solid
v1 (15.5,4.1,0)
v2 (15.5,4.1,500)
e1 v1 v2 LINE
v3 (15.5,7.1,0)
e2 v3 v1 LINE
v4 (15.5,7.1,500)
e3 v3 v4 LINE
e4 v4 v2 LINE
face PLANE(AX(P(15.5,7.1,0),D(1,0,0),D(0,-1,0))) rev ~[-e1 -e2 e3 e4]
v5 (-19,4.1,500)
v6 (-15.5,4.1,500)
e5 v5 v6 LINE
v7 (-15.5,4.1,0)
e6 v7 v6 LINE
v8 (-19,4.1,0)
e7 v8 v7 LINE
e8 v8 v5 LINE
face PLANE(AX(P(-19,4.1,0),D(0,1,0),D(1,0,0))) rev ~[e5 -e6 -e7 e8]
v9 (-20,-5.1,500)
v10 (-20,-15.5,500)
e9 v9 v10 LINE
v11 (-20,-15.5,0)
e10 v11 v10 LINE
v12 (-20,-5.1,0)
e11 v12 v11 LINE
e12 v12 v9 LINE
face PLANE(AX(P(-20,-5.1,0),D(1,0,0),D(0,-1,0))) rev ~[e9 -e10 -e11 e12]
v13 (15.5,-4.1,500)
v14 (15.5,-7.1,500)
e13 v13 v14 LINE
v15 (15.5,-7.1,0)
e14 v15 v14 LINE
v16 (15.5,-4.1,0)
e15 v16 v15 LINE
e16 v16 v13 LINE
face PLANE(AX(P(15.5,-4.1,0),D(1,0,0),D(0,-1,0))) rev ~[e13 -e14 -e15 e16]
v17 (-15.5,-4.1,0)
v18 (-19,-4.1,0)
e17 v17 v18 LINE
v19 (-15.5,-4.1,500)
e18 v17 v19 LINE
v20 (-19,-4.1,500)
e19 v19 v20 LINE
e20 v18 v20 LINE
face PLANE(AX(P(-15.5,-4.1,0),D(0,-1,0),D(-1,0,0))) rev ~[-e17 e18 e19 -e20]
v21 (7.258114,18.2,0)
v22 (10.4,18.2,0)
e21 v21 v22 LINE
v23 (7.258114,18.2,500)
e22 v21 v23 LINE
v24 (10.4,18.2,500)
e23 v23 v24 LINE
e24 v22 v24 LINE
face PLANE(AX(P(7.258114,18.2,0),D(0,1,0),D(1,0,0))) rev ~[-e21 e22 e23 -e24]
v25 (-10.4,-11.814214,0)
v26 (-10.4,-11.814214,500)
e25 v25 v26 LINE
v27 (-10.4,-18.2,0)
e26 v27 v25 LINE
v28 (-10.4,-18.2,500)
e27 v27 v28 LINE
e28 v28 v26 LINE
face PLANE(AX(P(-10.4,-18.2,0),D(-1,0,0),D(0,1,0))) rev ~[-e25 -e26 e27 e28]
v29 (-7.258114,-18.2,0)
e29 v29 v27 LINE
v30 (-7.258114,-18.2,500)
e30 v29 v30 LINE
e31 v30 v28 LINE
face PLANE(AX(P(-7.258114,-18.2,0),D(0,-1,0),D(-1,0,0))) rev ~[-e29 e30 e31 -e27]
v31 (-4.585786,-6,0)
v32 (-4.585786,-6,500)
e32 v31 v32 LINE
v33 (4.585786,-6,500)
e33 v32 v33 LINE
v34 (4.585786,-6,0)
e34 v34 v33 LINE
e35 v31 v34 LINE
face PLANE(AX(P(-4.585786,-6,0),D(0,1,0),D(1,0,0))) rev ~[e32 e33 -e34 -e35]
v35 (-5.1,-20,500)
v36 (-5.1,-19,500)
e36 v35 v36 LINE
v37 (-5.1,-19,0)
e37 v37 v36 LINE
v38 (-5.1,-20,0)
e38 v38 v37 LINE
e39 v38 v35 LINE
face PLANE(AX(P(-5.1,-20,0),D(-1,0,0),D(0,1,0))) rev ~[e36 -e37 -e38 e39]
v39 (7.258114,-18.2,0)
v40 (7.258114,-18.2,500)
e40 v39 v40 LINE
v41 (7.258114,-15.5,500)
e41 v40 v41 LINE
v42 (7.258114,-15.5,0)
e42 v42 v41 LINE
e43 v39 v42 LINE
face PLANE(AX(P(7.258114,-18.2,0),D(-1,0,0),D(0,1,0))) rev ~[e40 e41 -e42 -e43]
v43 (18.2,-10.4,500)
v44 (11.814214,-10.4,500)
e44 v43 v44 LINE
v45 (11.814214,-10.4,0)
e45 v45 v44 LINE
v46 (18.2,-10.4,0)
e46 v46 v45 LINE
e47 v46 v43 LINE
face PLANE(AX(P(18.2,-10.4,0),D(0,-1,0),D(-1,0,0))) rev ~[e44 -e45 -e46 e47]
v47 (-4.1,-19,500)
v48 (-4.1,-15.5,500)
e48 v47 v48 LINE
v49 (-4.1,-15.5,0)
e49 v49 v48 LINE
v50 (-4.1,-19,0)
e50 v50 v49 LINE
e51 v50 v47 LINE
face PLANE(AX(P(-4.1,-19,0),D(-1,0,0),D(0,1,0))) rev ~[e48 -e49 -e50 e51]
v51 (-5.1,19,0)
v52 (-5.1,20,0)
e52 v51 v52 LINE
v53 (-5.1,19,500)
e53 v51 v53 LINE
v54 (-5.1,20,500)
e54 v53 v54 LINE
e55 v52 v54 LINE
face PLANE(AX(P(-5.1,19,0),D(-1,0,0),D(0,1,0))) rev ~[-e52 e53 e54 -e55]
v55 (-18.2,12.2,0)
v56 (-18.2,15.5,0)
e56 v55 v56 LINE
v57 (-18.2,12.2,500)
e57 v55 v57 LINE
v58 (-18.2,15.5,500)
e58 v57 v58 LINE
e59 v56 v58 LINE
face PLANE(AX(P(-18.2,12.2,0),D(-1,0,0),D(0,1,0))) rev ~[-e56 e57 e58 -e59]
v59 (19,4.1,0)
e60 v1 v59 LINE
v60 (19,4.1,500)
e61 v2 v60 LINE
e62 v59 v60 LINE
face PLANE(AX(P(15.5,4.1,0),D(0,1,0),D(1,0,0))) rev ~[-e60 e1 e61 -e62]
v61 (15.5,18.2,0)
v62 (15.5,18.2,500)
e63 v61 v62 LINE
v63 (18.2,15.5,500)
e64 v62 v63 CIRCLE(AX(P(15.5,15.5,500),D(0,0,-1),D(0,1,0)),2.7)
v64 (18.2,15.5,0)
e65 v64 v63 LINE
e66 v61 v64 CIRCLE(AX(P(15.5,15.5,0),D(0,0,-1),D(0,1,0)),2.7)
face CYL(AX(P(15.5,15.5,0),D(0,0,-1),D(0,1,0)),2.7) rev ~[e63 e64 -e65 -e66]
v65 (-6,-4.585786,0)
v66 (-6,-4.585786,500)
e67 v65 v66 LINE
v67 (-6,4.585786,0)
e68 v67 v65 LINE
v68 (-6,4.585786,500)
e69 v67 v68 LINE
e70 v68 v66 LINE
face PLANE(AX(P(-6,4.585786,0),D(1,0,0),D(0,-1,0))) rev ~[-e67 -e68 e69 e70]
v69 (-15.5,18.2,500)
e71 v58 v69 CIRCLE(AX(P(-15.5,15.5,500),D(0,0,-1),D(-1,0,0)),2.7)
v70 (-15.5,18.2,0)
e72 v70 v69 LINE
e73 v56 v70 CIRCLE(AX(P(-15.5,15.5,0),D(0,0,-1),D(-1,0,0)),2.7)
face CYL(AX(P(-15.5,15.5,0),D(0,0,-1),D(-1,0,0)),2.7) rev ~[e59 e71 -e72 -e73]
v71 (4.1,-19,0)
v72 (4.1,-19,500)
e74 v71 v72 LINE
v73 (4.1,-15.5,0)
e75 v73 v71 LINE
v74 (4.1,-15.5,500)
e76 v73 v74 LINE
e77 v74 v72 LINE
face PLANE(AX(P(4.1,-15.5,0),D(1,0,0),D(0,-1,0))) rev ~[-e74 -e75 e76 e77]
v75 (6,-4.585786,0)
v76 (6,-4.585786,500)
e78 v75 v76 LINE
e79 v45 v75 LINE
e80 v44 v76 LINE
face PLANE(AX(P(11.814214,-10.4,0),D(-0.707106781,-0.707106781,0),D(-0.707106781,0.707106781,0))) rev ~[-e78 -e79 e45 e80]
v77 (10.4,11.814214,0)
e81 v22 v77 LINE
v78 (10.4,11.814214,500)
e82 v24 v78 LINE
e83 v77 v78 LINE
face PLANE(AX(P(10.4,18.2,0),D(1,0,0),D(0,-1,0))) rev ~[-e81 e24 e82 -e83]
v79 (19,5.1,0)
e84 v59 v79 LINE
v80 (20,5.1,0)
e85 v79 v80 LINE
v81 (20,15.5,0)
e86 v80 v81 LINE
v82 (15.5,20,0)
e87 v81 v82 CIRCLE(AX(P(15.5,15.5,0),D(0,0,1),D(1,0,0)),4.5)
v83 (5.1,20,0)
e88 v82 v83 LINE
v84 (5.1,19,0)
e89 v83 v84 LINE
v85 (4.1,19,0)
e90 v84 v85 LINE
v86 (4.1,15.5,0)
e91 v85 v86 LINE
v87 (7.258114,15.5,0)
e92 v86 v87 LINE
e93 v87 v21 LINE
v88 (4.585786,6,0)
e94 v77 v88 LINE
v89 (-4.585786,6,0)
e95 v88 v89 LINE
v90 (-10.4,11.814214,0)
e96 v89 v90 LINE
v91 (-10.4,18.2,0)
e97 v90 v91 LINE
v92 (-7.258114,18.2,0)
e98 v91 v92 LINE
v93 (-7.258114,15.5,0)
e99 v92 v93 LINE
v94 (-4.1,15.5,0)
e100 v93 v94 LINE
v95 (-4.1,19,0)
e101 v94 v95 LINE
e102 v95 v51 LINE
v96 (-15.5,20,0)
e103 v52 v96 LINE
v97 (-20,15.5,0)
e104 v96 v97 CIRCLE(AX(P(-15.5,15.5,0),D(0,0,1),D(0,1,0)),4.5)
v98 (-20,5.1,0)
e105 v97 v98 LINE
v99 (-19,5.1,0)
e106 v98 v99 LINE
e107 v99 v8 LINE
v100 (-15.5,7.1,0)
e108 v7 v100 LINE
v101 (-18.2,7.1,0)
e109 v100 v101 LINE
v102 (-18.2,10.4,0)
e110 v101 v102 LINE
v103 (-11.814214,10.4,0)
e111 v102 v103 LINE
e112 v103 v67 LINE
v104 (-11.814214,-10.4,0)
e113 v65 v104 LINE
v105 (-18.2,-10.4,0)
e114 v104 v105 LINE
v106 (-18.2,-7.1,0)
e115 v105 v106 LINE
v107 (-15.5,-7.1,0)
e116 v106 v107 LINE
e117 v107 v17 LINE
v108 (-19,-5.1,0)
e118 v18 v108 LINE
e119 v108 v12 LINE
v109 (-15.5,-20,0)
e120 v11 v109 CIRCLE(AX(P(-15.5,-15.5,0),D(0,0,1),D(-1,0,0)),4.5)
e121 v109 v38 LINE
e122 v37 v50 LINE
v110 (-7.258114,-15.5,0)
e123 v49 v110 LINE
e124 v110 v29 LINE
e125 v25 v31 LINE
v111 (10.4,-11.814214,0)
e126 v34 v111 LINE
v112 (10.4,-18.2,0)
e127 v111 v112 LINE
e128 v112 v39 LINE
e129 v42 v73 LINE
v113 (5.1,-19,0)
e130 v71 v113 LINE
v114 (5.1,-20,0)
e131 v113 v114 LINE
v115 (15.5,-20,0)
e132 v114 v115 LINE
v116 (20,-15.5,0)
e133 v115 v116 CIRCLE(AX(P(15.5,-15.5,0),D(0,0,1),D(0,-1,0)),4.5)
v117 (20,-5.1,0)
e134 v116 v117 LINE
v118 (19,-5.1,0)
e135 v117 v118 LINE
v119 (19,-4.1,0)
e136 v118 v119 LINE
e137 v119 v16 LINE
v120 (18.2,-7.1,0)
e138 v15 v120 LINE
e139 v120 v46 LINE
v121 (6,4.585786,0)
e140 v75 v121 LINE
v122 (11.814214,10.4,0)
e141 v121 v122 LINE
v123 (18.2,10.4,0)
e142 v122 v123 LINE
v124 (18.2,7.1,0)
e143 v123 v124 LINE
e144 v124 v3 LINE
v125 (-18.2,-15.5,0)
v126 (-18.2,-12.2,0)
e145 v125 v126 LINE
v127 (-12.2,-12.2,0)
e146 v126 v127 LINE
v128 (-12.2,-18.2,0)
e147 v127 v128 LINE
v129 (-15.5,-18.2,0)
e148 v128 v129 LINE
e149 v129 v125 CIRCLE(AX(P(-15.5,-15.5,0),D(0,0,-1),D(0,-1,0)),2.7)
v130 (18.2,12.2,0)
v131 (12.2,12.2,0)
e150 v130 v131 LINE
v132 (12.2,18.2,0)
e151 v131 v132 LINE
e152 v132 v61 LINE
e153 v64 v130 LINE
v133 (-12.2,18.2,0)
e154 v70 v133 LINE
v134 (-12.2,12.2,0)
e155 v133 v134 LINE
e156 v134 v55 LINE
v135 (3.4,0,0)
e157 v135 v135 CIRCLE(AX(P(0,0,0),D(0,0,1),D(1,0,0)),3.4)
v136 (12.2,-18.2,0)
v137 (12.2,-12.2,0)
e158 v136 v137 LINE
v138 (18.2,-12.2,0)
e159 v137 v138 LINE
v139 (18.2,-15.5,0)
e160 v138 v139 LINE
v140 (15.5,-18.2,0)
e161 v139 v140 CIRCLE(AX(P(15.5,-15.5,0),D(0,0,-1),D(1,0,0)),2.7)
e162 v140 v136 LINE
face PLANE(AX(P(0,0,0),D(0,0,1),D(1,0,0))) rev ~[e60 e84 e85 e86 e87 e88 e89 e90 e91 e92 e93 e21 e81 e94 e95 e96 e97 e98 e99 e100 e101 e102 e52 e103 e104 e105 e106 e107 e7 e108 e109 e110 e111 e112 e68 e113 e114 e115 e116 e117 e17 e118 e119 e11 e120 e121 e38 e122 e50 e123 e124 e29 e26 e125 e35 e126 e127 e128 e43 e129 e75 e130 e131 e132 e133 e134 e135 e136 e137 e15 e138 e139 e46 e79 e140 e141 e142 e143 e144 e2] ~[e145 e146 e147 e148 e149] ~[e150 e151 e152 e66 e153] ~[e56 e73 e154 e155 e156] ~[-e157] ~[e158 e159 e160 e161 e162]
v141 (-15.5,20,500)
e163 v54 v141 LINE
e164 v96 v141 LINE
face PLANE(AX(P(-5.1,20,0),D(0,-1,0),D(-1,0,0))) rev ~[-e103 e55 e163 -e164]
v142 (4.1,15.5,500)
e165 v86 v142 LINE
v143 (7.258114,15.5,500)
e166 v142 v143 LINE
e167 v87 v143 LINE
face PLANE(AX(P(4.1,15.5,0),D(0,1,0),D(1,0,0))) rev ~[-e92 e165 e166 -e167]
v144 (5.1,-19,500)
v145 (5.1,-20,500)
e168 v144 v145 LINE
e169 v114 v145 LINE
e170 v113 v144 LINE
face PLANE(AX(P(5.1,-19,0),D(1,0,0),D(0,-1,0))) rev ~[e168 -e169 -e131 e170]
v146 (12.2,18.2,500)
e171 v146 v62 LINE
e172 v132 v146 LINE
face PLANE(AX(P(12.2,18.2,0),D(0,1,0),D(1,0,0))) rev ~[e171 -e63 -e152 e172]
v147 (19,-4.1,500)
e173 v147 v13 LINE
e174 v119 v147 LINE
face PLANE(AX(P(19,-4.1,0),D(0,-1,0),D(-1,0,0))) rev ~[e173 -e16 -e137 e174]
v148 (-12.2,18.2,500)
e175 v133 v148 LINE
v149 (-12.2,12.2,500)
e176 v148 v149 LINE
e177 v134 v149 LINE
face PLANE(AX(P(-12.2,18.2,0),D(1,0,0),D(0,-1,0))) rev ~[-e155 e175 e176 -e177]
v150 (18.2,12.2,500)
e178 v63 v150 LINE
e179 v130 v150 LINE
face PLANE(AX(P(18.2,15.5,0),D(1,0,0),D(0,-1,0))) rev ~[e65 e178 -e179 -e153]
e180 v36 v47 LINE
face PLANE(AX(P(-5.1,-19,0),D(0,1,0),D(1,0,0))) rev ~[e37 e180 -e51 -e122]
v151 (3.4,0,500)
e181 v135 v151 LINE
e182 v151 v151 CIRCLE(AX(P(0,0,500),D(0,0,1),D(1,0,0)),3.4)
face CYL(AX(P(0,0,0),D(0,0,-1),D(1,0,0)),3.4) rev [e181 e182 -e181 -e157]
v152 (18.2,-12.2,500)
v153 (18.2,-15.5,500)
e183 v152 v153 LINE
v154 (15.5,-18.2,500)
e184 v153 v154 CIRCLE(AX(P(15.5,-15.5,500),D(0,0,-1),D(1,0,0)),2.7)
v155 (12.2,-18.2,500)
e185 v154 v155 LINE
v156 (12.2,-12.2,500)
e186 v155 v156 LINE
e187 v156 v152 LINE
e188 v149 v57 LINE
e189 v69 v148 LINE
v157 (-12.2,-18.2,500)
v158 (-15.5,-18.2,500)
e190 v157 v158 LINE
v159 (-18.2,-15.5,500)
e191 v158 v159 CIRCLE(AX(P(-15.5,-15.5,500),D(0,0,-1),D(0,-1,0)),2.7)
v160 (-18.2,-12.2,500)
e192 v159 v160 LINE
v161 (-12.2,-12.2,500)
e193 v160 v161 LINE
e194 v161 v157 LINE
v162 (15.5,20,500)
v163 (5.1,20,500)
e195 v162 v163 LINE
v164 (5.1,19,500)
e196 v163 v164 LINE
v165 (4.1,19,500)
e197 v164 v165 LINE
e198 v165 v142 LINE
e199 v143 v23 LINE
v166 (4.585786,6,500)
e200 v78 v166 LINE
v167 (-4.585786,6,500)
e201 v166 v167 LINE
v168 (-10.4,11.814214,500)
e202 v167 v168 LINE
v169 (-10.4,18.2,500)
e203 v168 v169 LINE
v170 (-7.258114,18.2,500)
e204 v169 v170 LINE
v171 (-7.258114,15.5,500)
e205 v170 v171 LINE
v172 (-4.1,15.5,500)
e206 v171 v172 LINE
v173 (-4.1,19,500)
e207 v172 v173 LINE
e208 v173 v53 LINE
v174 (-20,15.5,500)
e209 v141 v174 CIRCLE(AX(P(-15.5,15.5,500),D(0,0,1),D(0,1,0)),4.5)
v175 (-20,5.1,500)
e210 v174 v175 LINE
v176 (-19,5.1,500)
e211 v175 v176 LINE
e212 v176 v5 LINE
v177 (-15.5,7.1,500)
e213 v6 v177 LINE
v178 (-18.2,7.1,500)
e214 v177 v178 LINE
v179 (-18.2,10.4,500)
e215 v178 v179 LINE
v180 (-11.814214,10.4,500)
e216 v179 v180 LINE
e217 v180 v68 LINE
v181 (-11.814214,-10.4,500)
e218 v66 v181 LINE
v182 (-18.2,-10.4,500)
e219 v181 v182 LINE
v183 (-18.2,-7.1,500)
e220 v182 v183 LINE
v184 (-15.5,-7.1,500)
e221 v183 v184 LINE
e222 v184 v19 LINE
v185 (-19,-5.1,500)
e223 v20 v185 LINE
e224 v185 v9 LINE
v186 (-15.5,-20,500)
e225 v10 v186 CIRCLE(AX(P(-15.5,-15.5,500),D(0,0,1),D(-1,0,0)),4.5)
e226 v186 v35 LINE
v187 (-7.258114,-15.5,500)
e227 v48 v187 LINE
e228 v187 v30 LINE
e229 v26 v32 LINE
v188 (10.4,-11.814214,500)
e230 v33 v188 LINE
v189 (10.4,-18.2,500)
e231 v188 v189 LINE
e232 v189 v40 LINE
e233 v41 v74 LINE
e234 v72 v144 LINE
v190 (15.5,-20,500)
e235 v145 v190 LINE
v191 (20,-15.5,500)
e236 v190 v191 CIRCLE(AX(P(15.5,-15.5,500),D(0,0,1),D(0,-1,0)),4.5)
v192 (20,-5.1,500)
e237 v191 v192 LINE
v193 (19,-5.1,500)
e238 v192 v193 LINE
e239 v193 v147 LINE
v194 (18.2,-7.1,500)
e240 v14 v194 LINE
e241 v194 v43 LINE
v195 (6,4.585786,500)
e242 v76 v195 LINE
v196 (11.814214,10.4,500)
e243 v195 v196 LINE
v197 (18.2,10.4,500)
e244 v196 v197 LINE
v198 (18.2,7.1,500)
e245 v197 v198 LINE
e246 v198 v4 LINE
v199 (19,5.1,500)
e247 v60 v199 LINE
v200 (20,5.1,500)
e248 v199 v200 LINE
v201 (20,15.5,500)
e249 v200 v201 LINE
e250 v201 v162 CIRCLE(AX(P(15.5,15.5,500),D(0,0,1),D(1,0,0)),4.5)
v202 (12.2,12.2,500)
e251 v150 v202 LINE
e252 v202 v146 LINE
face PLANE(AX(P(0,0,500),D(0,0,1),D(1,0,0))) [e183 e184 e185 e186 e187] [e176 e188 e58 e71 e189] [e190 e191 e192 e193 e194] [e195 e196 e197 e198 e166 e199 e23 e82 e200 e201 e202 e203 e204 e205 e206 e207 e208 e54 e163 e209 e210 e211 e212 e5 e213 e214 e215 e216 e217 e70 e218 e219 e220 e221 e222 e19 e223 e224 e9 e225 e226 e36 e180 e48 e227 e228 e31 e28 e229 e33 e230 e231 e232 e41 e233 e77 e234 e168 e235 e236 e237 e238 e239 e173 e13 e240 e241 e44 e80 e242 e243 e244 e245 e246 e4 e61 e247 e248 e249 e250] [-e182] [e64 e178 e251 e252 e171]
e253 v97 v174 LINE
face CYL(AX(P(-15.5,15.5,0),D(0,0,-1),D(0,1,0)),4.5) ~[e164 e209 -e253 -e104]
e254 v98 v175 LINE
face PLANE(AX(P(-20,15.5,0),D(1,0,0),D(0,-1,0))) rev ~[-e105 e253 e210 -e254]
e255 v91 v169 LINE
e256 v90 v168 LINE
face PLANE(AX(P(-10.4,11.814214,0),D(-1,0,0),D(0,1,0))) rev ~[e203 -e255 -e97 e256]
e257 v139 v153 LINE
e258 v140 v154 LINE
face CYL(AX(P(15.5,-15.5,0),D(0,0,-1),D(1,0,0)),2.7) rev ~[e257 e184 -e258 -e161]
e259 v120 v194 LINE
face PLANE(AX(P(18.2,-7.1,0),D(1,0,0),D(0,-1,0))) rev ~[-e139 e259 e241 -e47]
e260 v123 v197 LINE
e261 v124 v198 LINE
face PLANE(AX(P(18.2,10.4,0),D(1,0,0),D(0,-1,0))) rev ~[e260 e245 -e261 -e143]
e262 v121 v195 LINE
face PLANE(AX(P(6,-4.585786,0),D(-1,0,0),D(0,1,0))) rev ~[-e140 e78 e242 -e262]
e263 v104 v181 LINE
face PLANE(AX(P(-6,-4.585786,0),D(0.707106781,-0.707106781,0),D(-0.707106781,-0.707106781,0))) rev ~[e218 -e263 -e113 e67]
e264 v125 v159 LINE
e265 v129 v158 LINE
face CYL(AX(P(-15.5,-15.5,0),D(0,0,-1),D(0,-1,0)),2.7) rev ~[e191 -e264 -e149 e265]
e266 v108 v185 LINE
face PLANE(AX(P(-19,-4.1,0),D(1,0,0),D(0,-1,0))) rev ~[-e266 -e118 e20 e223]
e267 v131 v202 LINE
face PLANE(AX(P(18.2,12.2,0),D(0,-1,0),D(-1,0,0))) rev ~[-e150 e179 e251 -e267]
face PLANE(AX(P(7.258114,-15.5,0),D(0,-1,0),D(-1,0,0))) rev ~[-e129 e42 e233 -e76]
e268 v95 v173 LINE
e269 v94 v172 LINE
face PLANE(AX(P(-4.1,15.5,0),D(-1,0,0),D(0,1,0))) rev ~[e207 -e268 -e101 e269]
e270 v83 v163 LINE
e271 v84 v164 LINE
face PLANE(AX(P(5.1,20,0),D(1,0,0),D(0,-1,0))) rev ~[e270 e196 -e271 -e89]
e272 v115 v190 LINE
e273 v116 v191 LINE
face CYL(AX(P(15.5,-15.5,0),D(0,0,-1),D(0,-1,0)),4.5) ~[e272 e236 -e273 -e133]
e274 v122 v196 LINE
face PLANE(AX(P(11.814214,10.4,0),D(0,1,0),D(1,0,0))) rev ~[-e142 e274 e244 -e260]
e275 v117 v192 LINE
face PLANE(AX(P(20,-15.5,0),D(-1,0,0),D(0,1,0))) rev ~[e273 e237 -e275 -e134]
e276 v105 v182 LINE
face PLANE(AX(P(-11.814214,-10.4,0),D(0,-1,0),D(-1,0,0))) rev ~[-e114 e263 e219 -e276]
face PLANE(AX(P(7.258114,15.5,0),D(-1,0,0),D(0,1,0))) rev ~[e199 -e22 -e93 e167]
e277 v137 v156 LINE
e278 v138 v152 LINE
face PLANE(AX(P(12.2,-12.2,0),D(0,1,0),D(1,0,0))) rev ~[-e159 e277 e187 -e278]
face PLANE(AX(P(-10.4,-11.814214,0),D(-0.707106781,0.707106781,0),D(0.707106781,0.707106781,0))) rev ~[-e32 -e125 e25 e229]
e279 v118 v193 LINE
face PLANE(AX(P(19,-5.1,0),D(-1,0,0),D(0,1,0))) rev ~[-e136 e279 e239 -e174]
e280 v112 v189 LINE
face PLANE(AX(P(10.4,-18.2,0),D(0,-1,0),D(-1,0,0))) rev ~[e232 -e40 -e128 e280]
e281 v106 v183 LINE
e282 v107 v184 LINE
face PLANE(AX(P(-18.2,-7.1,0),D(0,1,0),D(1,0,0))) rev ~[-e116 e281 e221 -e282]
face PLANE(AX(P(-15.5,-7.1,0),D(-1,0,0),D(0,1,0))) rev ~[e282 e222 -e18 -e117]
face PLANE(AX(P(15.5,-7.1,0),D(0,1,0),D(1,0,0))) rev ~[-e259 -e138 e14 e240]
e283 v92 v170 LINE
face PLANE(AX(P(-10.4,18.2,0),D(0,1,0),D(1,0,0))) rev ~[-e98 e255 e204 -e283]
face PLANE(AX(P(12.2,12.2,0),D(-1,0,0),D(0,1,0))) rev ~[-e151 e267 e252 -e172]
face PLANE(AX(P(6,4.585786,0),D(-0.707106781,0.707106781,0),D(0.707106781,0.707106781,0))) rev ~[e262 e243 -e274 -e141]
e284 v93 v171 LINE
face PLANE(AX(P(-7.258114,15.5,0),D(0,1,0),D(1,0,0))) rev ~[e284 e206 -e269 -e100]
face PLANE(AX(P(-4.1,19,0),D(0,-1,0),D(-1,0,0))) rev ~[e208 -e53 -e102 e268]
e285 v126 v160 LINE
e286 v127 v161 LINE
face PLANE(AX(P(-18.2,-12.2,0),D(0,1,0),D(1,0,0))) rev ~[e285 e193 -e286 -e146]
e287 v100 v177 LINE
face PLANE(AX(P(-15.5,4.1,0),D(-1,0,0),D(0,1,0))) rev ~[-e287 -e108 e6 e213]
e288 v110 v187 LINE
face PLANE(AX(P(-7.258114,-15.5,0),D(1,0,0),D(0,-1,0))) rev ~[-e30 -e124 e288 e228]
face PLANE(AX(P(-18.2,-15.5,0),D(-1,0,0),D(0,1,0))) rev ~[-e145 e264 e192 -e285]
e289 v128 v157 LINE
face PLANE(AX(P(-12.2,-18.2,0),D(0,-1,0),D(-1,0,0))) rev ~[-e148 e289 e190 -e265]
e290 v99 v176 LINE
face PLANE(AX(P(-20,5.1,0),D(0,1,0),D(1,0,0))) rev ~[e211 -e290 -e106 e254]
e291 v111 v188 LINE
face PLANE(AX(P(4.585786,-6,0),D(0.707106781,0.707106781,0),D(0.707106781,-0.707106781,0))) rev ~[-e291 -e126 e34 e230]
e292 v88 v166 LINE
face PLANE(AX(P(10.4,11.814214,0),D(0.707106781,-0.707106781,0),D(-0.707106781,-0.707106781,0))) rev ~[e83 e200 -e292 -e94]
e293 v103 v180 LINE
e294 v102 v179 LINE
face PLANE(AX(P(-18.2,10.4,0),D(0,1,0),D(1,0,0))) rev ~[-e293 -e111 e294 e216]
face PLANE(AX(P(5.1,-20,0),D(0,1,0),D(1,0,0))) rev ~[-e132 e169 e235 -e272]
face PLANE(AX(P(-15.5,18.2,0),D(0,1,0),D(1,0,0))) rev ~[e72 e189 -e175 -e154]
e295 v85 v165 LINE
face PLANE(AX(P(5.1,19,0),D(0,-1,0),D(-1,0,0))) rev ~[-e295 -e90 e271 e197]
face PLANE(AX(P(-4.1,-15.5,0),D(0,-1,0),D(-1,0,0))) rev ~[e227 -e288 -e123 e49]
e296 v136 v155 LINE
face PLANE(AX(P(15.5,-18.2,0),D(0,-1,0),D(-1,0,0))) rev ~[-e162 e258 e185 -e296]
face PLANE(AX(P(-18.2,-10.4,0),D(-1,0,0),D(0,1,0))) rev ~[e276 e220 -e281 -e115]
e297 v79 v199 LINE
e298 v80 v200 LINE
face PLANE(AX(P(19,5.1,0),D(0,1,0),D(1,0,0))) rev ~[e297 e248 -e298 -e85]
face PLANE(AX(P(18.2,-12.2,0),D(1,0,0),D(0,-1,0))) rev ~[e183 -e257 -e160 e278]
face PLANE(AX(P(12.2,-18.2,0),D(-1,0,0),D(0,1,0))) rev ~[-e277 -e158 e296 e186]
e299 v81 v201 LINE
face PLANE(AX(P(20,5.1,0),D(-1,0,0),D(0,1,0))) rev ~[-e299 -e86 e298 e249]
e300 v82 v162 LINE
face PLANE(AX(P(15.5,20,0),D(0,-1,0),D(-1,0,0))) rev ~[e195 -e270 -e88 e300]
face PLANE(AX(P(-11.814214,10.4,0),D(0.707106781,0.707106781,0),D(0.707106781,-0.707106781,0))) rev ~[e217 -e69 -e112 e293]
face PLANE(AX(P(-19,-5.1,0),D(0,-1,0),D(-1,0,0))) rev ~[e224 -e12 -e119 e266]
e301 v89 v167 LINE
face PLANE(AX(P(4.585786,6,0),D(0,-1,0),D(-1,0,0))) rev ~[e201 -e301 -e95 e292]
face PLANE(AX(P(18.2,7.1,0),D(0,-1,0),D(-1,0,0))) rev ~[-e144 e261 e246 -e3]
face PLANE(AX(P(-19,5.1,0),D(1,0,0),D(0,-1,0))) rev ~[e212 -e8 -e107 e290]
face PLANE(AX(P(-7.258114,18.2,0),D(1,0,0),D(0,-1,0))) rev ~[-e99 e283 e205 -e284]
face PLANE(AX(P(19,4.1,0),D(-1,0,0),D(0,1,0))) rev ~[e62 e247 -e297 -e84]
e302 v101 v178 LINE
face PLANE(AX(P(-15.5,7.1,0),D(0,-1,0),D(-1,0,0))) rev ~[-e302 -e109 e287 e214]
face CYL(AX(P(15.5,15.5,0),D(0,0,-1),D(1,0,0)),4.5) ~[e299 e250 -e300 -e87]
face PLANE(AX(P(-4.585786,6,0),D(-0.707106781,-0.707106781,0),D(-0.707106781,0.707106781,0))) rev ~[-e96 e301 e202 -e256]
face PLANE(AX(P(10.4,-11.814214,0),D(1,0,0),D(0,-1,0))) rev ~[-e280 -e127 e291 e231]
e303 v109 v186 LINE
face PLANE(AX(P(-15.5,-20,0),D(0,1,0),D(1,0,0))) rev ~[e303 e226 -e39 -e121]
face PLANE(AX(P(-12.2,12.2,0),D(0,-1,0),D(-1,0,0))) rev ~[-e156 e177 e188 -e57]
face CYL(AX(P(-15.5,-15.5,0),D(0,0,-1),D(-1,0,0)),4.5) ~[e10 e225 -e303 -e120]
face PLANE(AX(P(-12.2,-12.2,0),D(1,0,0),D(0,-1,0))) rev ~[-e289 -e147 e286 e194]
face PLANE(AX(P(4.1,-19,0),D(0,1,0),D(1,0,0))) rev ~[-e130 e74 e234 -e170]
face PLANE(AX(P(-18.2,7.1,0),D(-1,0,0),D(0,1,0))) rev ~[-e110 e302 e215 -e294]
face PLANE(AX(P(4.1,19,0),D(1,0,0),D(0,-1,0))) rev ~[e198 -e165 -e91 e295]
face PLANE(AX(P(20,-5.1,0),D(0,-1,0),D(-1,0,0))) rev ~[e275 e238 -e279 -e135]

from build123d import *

# Parameters (mm, degrees)
SKETCH3_R           = 3.4
BOSS_EXTRUDE1_DEPTH = 500


with BuildPart() as part:
    # Sketch3 → Boss-Extrude1 (new body)
    with BuildSketch(Plane.XY):
        with BuildLine():
            Line((-11.814213562, 10.4), (-6, 4.585786438))
            Line((-6, 4.585786438), (-6, -4.585786438))
            Line((-6, -4.585786438), (-11.814213562, -10.4))
            Line((-11.814213562, -10.4), (-18.2, -10.4))
            Line((-18.2, -10.4), (-18.2, -7.1))
            Line((-18.2, -7.1), (-15.5, -7.1))
            Line((-15.5, -7.1), (-15.5, -4.1))
            Line((-15.5, -4.1), (-19, -4.1))
            Line((-19, -4.1), (-19, -5.1))
            Line((-19, -5.1), (-20, -5.1))
            Line((-20, -5.1), (-20, -15.5))
            ThreePointArc((-20, -15.5), (-18.681980515, -18.681980515), (-15.5, -20))
            Line((-15.5, -20), (-5.1, -20))
            Line((-5.1, -20), (-5.1, -19))
            Line((-5.1, -19), (-4.1, -19))
            Line((-4.1, -19), (-4.1, -15.5))
            Line((-4.1, -15.5), (-7.258114106, -15.5))
            Line((-7.258114106, -15.5), (-7.258114106, -18.2))
            Line((-7.258114106, -18.2), (-10.4, -18.2))
            Line((-10.4, -18.2), (-10.4, -11.814213562))
            Line((-10.4, -11.814213562), (-4.585786438, -6))
            Line((-4.585786438, -6), (4.585786438, -6))
            Line((4.585786438, -6), (10.4, -11.814213562))
            Line((10.4, -11.814213562), (10.4, -18.2))
            Line((10.4, -18.2), (7.258114106, -18.2))
            Line((7.258114106, -18.2), (7.258114106, -15.5))
            Line((7.258114106, -15.5), (4.1, -15.5))
            Line((4.1, -15.5), (4.1, -19))
            Line((4.1, -19), (5.1, -19))
            Line((5.1, -19), (5.1, -20))
            Line((5.1, -20), (15.5, -20))
            ThreePointArc((15.5, -20), (18.681980515, -18.681980515), (20, -15.5))
            Line((20, -15.5), (20, -5.1))
            Line((20, -5.1), (19, -5.1))
            Line((19, -5.1), (19, -4.1))
            Line((19, -4.1), (15.5, -4.1))
            Line((15.5, -4.1), (15.5, -7.1))
            Line((15.5, -7.1), (18.2, -7.1))
            Line((18.2, -7.1), (18.2, -10.4))
            Line((18.2, -10.4), (11.814213562, -10.4))
            Line((11.814213562, -10.4), (6, -4.585786438))
            Line((6, -4.585786438), (6, 4.585786438))
            Line((6, 4.585786438), (11.814213562, 10.4))
            Line((11.814213562, 10.4), (18.2, 10.4))
            Line((18.2, 10.4), (18.2, 7.1))
            Line((18.2, 7.1), (15.5, 7.1))
            Line((15.5, 7.1), (15.5, 4.1))
            Line((15.5, 4.1), (19, 4.1))
            Line((19, 4.1), (19, 5.1))
            Line((19, 5.1), (20, 5.1))
            Line((20, 5.1), (20, 15.5))
            ThreePointArc((20, 15.5), (18.681980515, 18.681980515), (15.5, 20))
            Line((15.5, 20), (5.1, 20))
            Line((5.1, 20), (5.1, 19))
            Line((5.1, 19), (4.1, 19))
            Line((4.1, 19), (4.1, 15.5))
            Line((4.1, 15.5), (7.258114106, 15.5))
            Line((7.258114106, 15.5), (7.258114106, 18.2))
            Line((7.258114106, 18.2), (10.4, 18.2))
            Line((10.4, 18.2), (10.4, 11.814213562))
            Line((10.4, 11.814213562), (4.585786438, 6))
            Line((4.585786438, 6), (-4.585786438, 6))
            Line((-4.585786438, 6), (-10.4, 11.814213562))
            Line((-10.4, 11.814213562), (-10.4, 18.2))
            Line((-10.4, 18.2), (-7.258114106, 18.2))
            Line((-7.258114106, 18.2), (-7.258114106, 15.5))
            Line((-7.258114106, 15.5), (-4.1, 15.5))
            Line((-4.1, 15.5), (-4.1, 19))
            Line((-4.1, 19), (-5.1, 19))
            Line((-5.1, 19), (-5.1, 20))
            Line((-5.1, 20), (-15.5, 20))
            ThreePointArc((-15.5, 20), (-18.681980515, 18.681980515), (-20, 15.5))
            Line((-20, 15.5), (-20, 5.1))
            Line((-20, 5.1), (-19, 5.1))
            Line((-19, 5.1), (-19, 4.1))
            Line((-19, 4.1), (-15.5, 4.1))
            Line((-15.5, 4.1), (-15.5, 7.1))
            Line((-15.5, 7.1), (-18.2, 7.1))
            Line((-18.2, 7.1), (-18.2, 10.4))
            Line((-18.2, 10.4), (-11.814213562, 10.4))
        make_face()
        with BuildLine():
            Line((-18.2, -15.5), (-18.2, -12.2))
            Line((-18.2, -12.2), (-12.2, -12.2))
            Line((-12.2, -12.2), (-12.2, -18.2))
            Line((-12.2, -18.2), (-15.5, -18.2))
            ThreePointArc((-15.5, -18.2), (-17.409188309, -17.409188309), (-18.2, -15.5))
        make_face(mode=Mode.SUBTRACT)
        Circle(SKETCH3_R, mode=Mode.SUBTRACT)
        with BuildLine():
            Line((-18.2, 12.2), (-18.2, 15.5))
            ThreePointArc((-18.2, 15.5), (-17.409188309, 17.409188309), (-15.5, 18.2))
            Line((-15.5, 18.2), (-12.2, 18.2))
            Line((-12.2, 18.2), (-12.2, 12.2))
            Line((-12.2, 12.2), (-18.2, 12.2))
        make_face(mode=Mode.SUBTRACT)
        with BuildLine():
            Line((18.2, 15.5), (18.2, 12.2))
            Line((18.2, 12.2), (12.2, 12.2))
            Line((12.2, 12.2), (12.2, 18.2))
            Line((12.2, 18.2), (15.5, 18.2))
            ThreePointArc((15.5, 18.2), (17.409188309, 17.409188309), (18.2, 15.5))
        make_face(mode=Mode.SUBTRACT)
        with BuildLine():
            Line((12.2, -18.2), (12.2, -12.2))
            Line((12.2, -12.2), (18.2, -12.2))
            Line((18.2, -12.2), (18.2, -15.5))
            ThreePointArc((18.2, -15.5), (17.409188309, -17.409188309), (15.5, -18.2))
            Line((15.5, -18.2), (12.2, -18.2))
        make_face(mode=Mode.SUBTRACT)
    extrude(amount=BOSS_EXTRUDE1_DEPTH)


solid = part.part
